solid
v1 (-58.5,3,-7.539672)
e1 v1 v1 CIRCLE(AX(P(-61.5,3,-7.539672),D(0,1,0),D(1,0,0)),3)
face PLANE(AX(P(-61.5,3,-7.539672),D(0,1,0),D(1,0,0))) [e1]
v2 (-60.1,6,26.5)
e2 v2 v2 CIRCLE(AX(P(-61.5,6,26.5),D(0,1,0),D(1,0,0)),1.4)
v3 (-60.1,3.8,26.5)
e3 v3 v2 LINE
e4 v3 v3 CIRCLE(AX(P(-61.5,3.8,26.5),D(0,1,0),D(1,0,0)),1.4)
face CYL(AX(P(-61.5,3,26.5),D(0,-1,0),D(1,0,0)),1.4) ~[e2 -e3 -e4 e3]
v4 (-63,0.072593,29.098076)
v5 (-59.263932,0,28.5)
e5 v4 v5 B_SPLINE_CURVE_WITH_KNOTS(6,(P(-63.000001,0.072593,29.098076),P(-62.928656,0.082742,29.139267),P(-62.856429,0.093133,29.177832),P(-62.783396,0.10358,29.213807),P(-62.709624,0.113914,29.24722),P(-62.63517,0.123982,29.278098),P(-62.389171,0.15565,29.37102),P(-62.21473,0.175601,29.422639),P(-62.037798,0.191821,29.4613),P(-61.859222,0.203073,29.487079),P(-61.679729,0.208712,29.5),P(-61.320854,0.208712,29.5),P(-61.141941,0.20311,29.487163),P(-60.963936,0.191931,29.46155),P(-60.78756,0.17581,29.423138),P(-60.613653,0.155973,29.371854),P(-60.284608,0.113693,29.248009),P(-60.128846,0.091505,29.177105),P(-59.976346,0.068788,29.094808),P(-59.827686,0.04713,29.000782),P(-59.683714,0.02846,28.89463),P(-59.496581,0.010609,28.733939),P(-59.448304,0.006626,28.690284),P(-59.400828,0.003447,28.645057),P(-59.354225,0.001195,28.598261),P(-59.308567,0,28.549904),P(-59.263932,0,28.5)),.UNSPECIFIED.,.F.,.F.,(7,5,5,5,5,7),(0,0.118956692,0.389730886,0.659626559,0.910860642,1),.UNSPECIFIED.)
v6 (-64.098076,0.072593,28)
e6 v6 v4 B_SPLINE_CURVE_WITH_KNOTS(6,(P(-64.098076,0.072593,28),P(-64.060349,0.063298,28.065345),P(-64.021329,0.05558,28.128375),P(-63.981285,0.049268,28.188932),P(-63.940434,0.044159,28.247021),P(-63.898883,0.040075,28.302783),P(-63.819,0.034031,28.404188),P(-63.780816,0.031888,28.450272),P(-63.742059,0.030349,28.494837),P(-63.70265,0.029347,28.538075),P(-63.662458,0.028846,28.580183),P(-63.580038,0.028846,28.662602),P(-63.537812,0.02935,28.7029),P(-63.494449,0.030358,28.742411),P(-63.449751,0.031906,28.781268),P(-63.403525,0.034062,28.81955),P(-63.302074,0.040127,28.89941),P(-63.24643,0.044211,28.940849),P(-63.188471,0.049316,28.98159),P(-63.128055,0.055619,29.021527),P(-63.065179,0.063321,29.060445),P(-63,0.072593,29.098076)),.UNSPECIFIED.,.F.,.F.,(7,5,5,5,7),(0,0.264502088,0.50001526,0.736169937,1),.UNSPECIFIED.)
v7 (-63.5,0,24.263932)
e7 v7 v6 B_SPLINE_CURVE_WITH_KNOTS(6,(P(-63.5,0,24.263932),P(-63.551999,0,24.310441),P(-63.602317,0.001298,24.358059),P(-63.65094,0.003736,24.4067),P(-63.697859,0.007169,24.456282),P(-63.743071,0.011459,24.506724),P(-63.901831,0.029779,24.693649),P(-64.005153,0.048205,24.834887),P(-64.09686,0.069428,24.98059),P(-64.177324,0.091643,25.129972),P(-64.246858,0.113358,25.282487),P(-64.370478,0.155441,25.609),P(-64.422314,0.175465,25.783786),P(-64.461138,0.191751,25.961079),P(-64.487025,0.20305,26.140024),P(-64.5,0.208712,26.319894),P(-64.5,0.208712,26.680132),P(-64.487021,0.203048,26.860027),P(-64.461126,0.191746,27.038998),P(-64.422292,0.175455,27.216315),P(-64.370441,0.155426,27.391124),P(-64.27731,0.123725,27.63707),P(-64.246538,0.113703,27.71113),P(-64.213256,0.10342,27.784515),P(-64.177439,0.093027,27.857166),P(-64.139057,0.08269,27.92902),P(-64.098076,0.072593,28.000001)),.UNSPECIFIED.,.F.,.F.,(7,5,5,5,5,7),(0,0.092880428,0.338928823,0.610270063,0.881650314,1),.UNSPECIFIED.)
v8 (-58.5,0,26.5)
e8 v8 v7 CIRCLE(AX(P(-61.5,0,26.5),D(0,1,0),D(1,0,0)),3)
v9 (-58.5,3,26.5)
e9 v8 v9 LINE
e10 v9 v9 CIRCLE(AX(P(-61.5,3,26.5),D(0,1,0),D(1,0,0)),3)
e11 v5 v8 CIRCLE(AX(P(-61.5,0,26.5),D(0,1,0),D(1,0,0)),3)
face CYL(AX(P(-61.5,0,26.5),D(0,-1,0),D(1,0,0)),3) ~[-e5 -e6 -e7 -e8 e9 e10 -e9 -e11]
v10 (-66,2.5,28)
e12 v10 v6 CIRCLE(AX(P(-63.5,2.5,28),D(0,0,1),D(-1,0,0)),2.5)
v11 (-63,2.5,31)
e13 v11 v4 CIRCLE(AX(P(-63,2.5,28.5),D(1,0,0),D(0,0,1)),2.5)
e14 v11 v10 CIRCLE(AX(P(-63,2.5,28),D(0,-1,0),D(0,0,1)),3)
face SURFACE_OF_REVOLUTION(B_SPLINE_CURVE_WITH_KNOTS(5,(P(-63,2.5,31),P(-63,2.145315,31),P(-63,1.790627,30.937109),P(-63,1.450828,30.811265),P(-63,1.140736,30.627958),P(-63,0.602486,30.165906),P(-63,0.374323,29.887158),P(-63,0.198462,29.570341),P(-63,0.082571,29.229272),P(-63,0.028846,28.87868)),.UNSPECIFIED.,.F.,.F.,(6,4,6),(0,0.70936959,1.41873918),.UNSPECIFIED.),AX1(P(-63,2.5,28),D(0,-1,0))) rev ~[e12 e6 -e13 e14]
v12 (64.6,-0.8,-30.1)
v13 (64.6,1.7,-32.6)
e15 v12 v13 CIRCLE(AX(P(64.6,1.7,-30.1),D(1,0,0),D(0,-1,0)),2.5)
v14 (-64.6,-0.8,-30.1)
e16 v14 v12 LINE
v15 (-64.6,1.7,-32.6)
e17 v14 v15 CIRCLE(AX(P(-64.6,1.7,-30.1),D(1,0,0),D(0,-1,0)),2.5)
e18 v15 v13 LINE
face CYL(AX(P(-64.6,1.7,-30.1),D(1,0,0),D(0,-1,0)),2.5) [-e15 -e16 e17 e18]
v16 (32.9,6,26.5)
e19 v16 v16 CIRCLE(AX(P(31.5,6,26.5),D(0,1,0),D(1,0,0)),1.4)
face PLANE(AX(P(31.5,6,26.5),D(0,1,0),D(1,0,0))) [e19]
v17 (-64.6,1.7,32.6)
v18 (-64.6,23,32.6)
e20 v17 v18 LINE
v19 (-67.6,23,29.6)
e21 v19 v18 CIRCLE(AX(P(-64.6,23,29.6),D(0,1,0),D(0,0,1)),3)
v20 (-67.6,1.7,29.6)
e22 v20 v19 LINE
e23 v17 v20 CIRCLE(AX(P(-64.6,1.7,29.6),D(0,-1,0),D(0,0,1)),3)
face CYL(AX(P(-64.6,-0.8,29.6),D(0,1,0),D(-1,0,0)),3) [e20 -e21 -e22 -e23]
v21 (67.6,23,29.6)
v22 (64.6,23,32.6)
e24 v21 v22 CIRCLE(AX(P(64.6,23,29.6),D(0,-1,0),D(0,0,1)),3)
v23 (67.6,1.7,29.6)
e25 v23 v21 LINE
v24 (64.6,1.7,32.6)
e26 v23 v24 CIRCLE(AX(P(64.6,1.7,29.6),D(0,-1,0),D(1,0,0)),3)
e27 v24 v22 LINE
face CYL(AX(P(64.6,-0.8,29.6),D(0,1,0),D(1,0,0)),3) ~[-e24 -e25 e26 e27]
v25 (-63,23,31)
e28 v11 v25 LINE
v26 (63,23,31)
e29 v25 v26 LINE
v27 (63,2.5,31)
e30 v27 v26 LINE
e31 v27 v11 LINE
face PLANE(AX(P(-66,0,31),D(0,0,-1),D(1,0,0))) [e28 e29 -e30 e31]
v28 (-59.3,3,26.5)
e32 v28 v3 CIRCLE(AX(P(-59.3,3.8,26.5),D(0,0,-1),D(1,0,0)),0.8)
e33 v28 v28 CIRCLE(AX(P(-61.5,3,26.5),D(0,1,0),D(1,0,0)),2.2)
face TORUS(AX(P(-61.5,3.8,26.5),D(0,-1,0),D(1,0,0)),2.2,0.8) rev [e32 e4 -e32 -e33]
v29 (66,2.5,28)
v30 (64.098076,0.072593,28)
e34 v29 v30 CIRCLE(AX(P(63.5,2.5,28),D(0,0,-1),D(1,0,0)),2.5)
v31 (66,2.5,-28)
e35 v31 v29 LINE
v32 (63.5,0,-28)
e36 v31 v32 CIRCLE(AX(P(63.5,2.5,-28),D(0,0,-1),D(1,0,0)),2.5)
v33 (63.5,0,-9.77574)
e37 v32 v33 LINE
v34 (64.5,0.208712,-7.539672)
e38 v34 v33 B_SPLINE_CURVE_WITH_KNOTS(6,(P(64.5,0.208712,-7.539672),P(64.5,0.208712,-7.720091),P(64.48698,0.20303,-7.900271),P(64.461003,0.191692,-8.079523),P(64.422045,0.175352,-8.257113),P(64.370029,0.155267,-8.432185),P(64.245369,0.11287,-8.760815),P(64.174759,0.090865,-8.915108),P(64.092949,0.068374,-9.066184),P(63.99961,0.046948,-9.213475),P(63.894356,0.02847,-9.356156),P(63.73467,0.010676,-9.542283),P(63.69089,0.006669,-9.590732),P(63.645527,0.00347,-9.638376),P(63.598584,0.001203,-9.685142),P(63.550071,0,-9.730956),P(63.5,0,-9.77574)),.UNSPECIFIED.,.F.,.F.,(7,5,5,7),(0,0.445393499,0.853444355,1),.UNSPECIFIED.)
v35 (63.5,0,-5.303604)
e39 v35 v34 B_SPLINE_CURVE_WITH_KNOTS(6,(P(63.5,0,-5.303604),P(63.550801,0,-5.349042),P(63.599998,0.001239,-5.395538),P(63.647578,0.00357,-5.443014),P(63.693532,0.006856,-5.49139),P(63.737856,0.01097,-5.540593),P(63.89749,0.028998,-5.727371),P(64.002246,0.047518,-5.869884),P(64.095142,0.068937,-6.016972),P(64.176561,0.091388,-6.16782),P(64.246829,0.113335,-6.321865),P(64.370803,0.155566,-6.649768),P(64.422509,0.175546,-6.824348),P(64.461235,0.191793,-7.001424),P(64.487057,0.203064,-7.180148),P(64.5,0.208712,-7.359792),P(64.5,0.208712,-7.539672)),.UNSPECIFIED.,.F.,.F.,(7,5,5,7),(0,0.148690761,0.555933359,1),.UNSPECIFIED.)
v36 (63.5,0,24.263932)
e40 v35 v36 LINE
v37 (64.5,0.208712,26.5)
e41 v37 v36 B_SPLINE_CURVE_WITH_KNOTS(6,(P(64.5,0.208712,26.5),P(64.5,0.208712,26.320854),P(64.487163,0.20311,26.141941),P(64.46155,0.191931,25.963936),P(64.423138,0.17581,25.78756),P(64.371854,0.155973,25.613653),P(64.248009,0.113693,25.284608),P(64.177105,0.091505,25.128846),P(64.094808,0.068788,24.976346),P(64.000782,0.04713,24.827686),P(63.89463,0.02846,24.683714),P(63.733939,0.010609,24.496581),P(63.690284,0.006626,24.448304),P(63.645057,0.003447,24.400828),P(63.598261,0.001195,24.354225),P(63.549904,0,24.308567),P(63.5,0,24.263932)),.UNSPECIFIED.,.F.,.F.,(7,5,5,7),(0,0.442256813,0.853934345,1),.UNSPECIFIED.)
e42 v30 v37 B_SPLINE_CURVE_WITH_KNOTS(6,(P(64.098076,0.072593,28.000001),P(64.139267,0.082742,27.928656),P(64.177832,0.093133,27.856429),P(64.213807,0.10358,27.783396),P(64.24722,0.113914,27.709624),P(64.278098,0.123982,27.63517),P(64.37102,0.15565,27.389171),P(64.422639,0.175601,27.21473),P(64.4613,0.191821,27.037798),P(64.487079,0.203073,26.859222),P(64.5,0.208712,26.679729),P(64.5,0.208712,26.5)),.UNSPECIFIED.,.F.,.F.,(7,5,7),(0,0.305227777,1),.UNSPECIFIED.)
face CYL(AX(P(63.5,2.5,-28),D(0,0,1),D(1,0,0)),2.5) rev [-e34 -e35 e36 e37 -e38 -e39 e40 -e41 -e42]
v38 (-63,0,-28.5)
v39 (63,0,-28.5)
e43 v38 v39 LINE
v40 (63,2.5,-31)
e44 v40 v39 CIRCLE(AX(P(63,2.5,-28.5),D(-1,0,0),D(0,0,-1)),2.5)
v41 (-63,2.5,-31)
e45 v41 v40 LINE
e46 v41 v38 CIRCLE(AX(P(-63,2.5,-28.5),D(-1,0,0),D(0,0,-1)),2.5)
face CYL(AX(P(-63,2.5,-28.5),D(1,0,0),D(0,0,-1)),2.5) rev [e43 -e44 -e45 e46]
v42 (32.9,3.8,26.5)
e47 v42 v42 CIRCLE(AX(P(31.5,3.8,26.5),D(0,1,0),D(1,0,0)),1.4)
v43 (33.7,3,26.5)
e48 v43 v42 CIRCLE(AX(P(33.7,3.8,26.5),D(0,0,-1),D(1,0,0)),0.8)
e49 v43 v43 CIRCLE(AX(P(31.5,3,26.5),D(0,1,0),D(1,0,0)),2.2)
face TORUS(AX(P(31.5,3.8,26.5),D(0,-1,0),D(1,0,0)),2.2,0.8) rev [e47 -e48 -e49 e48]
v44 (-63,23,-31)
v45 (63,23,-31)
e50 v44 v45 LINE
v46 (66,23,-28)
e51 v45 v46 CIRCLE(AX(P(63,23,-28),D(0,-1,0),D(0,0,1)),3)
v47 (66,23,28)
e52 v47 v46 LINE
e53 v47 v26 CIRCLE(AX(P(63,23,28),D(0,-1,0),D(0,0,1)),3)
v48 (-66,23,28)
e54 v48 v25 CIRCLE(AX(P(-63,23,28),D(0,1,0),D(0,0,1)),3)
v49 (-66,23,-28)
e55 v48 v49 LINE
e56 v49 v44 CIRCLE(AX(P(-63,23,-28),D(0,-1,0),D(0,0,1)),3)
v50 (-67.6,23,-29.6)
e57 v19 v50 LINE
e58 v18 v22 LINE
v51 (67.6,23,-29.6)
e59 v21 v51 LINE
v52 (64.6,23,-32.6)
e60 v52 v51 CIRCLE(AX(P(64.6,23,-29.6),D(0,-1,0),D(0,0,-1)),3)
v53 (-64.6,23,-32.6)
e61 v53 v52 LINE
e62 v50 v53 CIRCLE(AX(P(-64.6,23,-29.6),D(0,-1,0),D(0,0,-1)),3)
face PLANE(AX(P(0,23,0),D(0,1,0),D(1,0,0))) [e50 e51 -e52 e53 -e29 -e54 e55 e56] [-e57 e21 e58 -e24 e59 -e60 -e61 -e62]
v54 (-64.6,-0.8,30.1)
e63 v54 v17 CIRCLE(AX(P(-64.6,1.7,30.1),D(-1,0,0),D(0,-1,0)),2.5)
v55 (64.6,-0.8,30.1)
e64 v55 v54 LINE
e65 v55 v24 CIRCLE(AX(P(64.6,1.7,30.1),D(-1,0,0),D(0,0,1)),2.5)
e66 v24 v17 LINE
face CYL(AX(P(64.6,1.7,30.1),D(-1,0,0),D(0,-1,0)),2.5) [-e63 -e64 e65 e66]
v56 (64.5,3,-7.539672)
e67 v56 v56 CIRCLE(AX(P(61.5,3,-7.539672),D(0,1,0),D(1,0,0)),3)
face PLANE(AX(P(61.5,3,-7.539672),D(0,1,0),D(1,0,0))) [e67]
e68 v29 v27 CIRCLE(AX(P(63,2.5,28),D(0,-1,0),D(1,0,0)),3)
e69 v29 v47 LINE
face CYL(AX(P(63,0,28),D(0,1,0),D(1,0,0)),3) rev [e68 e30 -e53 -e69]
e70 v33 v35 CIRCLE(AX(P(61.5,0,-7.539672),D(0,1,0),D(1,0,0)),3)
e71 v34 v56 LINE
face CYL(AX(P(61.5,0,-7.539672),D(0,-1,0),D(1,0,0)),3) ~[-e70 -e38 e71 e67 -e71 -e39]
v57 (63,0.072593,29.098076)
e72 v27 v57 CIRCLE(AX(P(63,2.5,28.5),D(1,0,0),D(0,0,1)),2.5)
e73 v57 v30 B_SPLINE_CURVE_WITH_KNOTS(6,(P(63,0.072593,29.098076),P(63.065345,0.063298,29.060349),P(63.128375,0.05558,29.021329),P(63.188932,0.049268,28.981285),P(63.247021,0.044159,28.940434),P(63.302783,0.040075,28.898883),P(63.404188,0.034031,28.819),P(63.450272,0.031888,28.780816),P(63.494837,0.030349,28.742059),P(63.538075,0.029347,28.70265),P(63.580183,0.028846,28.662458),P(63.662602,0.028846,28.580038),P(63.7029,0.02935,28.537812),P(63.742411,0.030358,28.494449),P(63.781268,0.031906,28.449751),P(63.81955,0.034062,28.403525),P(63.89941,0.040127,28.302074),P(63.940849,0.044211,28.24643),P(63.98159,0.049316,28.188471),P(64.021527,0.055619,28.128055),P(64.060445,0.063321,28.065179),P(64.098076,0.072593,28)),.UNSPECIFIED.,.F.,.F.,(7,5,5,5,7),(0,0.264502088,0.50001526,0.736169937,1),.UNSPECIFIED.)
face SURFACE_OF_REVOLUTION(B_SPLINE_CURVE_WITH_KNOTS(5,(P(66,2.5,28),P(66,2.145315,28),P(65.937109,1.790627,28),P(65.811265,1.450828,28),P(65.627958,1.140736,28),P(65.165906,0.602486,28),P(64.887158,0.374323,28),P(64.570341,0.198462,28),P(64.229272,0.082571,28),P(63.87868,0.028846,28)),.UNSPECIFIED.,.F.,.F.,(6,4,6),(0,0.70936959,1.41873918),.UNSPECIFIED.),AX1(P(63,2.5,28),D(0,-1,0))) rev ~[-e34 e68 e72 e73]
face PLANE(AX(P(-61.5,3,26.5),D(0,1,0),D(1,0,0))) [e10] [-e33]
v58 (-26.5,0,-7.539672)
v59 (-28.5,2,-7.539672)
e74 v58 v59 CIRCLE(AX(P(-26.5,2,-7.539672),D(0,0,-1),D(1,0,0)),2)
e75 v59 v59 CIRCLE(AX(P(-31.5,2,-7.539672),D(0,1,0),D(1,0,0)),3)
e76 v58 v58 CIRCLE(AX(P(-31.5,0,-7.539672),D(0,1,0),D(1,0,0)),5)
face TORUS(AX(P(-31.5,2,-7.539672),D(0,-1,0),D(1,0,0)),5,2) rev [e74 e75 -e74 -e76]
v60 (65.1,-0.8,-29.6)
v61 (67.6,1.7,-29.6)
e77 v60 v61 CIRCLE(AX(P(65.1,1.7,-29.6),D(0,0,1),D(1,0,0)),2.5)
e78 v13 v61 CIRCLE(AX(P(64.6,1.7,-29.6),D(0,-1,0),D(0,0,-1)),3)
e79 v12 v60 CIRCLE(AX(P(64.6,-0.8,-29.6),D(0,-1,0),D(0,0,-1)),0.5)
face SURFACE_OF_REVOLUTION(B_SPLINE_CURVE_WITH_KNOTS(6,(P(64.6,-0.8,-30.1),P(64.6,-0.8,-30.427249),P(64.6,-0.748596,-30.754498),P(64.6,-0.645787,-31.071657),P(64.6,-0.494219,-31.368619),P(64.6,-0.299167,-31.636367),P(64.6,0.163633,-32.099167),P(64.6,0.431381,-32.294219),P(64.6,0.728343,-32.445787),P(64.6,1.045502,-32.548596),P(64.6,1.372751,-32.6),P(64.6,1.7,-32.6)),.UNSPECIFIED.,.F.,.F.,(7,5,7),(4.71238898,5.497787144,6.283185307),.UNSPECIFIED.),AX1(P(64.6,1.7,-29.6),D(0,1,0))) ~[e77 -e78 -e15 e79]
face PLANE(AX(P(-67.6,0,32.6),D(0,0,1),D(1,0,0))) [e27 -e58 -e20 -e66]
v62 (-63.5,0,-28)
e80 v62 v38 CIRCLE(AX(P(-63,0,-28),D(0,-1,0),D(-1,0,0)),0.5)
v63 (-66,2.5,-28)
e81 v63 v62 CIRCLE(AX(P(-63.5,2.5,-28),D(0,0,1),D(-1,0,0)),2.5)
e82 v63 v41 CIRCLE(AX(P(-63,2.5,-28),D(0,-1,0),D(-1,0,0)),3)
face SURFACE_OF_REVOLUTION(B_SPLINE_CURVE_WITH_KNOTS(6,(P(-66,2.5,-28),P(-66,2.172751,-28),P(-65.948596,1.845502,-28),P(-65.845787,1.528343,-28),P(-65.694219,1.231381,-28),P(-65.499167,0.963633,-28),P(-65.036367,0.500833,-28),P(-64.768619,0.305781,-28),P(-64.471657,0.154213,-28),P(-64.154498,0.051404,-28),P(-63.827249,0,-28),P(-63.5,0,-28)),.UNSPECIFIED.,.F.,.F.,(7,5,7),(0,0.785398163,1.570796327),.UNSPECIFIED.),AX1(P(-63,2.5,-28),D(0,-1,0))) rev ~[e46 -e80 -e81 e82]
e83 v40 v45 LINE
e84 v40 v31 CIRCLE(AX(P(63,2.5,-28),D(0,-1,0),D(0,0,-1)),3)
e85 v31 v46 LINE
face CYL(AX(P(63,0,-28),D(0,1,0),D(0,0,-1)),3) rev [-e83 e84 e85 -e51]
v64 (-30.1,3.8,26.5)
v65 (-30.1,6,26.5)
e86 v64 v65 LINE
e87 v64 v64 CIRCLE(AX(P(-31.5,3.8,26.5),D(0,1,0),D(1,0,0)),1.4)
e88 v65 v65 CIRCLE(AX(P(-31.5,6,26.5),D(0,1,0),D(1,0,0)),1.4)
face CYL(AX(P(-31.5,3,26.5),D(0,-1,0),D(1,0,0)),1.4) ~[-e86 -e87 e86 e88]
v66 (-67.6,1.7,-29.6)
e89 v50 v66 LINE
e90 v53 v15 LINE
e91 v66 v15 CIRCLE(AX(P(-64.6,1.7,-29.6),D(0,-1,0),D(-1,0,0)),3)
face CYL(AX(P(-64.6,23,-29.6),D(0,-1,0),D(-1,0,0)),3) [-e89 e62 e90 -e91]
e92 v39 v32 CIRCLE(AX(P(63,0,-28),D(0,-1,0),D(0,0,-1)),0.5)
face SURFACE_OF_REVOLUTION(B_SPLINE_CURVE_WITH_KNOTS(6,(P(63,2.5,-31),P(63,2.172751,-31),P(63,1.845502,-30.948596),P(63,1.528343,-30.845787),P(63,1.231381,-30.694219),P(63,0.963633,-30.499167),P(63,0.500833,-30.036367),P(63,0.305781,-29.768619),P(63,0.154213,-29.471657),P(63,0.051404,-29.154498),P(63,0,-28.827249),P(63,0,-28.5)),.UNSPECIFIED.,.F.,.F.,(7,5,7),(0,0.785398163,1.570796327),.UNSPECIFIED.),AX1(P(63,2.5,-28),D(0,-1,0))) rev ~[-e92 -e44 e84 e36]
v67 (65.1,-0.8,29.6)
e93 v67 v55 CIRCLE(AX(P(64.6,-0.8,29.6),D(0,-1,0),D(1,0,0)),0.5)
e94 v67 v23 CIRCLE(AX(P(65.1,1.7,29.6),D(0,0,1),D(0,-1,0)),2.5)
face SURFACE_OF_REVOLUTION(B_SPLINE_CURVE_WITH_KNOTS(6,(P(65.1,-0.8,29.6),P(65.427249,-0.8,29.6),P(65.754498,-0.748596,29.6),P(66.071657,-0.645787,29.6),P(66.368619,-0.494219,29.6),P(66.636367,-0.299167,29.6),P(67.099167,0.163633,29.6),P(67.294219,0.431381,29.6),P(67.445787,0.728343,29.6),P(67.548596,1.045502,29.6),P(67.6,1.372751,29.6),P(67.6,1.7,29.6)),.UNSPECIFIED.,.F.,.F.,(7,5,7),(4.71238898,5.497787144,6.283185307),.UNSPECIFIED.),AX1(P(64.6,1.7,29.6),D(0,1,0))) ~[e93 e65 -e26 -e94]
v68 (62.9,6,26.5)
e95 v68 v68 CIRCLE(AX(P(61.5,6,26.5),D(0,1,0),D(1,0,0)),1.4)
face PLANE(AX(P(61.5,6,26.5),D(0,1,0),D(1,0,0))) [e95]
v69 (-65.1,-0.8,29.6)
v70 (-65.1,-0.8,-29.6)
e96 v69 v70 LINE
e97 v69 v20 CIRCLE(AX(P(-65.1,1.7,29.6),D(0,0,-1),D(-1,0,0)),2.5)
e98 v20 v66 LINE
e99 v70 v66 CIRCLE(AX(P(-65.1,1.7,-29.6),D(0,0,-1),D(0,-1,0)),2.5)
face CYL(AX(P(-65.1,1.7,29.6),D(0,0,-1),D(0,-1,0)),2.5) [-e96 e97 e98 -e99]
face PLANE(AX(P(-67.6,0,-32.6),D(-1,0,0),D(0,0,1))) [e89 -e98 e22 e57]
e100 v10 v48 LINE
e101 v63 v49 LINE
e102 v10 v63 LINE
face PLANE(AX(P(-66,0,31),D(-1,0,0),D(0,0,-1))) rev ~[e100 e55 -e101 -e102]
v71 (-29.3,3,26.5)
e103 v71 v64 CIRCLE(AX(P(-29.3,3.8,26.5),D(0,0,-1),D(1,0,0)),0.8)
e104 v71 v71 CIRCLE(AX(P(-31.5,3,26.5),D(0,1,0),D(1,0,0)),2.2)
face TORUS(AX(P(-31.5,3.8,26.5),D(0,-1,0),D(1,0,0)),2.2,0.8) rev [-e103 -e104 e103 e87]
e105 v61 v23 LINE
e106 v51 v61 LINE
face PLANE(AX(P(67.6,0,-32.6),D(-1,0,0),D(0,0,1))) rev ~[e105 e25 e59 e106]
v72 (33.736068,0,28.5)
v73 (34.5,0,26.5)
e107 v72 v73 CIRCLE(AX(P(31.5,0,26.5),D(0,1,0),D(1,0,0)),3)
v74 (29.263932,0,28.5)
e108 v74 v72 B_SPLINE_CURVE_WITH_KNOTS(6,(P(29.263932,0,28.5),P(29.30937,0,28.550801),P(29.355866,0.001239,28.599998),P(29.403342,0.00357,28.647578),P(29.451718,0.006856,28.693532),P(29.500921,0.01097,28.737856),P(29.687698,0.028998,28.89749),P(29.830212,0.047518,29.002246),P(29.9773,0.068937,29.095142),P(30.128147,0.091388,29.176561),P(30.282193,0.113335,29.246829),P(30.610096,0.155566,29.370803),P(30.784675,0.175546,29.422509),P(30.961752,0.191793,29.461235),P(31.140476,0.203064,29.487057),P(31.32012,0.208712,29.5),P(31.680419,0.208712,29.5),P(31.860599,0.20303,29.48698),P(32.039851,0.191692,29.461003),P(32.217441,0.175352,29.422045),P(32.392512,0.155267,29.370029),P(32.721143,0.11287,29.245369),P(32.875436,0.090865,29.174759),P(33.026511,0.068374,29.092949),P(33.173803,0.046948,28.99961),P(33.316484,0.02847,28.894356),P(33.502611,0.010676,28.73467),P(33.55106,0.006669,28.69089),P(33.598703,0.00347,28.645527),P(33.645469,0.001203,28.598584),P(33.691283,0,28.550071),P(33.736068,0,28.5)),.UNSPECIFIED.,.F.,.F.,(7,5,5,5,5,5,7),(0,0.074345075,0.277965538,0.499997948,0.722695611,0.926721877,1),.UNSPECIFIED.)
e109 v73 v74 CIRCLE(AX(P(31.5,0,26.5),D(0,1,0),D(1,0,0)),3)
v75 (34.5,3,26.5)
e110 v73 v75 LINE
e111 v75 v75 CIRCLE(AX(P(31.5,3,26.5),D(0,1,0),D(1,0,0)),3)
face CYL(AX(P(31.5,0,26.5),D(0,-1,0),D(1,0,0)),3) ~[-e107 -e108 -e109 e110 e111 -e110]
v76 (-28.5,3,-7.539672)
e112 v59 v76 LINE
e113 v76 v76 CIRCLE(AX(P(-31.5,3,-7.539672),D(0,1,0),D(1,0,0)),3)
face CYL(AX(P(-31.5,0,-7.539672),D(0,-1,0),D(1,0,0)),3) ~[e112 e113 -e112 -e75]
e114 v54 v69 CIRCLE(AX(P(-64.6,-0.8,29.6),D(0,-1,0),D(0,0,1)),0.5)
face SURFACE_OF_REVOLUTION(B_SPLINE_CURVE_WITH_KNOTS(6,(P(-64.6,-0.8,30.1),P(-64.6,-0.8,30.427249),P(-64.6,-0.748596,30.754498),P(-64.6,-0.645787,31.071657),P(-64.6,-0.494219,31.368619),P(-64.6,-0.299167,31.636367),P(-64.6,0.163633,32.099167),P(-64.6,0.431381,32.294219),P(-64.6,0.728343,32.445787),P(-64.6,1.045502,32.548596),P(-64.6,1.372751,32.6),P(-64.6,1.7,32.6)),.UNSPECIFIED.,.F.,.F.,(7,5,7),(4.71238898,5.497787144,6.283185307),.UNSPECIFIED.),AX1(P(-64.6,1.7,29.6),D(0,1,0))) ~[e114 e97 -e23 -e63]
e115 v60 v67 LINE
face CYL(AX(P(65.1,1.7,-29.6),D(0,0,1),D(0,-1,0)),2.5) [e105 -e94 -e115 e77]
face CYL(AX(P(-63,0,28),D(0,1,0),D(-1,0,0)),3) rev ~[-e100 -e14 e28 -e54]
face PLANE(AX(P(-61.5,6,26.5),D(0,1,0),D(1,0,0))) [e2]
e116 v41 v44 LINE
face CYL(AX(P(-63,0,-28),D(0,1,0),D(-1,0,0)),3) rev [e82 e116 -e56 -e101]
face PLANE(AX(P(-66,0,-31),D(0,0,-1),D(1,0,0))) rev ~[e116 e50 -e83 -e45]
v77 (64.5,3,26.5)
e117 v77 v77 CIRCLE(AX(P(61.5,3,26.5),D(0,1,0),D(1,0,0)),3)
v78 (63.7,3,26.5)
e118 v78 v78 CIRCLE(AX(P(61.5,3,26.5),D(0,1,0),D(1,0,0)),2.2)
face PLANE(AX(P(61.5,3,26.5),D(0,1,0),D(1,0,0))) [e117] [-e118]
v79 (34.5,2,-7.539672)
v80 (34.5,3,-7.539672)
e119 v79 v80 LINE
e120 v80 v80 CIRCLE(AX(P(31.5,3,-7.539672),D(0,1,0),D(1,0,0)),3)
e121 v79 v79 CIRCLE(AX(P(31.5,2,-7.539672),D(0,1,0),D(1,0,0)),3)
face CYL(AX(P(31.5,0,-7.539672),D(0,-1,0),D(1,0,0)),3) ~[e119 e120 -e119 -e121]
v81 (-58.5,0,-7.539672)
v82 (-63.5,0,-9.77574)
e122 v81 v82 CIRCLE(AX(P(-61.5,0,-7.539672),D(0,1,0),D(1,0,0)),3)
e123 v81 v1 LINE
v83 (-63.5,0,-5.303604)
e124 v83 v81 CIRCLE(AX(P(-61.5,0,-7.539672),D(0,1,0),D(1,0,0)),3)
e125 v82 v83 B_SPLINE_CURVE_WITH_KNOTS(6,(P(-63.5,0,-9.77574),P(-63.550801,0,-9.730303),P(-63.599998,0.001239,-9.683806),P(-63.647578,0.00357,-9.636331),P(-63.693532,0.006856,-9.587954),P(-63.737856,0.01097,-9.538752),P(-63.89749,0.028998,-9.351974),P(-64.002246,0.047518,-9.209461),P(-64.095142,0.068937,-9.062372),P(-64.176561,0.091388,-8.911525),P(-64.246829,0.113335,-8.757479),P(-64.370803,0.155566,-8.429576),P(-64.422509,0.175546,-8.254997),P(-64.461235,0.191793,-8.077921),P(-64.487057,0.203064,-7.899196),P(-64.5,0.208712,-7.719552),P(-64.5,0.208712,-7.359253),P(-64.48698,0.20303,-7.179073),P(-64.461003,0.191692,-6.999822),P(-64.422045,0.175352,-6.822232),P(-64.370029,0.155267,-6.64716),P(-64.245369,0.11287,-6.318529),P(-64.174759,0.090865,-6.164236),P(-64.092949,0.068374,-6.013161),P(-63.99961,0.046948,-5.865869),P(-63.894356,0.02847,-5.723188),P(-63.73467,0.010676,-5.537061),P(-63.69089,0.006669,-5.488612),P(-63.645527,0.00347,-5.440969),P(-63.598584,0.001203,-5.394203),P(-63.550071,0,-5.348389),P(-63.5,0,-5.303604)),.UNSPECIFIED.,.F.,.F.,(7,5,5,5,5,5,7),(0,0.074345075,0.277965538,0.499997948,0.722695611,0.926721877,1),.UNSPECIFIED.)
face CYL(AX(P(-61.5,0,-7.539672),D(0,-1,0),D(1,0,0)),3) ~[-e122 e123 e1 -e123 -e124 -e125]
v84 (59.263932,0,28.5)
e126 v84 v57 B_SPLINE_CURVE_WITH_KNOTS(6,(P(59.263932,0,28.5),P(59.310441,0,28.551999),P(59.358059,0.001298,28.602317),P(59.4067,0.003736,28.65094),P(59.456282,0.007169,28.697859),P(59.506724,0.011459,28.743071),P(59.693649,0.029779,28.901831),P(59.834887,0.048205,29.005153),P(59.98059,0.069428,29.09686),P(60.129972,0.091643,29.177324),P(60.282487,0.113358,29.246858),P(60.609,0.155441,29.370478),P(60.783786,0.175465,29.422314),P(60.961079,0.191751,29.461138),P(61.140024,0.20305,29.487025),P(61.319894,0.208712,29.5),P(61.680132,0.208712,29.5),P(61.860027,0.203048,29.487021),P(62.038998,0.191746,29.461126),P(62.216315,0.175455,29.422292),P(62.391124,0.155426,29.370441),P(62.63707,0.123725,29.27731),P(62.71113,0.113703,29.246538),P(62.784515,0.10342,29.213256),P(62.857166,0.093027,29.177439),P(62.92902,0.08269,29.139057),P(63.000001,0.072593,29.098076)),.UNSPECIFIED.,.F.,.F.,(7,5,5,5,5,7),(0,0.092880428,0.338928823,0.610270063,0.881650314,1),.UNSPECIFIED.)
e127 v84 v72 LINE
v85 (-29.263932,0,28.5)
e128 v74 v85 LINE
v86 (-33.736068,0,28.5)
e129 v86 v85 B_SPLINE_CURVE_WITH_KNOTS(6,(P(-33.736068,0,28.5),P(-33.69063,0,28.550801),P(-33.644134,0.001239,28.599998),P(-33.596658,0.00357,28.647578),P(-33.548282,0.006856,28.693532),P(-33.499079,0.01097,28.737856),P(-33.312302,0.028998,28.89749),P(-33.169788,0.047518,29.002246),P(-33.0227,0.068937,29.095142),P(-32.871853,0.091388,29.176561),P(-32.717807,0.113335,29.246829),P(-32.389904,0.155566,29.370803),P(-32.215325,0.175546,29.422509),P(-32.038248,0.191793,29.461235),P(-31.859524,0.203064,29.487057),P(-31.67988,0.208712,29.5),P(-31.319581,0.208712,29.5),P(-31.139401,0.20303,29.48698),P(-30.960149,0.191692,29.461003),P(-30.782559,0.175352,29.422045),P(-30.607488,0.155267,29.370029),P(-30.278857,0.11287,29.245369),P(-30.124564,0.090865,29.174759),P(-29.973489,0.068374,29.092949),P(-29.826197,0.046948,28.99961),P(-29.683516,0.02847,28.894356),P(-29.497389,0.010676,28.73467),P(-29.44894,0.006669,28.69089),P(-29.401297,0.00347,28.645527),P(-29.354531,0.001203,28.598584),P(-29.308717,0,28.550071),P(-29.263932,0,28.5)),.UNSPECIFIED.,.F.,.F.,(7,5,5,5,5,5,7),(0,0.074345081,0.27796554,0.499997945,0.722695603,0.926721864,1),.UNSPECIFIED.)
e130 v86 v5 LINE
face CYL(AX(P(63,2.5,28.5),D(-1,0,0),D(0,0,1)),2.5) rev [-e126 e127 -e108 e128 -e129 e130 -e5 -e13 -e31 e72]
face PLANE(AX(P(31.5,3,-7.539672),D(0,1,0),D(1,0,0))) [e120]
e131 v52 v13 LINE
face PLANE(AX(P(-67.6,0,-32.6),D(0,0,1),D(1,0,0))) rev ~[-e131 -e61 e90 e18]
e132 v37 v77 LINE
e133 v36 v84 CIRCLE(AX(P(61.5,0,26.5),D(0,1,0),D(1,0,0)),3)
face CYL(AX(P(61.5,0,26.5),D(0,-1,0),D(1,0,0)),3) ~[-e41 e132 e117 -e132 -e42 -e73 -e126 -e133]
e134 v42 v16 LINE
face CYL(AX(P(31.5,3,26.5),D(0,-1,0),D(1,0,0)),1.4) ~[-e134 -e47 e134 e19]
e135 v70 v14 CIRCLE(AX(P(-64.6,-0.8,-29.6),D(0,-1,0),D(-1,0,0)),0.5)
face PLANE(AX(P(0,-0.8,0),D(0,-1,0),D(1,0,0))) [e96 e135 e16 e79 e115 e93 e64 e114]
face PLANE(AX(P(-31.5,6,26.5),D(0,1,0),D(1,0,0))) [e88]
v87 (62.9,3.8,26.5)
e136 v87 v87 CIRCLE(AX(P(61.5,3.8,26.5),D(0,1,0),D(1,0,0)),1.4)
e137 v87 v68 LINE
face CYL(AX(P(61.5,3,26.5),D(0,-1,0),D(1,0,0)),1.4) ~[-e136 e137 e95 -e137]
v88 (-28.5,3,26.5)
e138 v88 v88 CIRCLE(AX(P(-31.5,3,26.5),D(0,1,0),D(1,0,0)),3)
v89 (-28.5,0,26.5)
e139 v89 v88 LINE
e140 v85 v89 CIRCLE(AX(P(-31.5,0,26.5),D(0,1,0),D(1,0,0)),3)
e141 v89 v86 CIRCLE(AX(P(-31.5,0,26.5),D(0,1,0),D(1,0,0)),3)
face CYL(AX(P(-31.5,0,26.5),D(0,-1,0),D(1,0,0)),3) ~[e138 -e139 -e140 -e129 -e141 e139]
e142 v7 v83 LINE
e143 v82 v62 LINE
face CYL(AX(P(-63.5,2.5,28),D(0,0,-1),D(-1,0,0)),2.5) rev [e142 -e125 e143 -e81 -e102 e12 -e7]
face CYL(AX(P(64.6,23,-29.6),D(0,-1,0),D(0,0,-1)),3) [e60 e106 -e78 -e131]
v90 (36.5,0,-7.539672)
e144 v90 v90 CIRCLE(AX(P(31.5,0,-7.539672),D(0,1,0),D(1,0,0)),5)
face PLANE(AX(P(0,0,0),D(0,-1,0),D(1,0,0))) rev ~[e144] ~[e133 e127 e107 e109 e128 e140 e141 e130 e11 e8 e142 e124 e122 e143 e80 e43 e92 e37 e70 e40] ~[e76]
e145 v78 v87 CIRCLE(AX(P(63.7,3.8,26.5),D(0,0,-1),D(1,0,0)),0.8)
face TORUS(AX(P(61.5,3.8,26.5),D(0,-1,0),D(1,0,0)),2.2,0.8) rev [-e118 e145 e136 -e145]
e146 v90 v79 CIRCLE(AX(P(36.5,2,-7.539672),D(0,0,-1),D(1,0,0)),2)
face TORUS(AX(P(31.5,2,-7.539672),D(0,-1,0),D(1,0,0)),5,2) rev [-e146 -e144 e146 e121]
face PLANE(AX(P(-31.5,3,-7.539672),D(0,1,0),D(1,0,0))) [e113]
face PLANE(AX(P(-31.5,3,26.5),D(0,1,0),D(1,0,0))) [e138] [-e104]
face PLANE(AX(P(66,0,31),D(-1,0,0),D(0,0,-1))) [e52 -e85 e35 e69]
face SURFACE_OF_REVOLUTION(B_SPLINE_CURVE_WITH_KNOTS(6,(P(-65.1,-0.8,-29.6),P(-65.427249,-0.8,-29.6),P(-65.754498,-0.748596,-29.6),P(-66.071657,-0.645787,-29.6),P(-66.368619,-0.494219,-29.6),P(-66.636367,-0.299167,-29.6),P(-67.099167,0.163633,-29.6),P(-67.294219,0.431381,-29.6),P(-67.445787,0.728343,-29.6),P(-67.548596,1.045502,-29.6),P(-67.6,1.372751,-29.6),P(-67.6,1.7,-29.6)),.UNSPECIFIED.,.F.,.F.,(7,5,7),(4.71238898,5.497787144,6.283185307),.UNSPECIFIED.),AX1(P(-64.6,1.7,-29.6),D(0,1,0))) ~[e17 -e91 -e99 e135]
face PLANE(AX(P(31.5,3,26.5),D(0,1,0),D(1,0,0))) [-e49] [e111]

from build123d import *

# Parameters (mm, degrees)
SKETCH1_W           = 135.2
SKETCH1_H           = 65.2
SKETCH1_W_2         = 132
SKETCH1_H_2         = 62
BOSS_EXTRUDE1_DEPTH = 23
SKETCH2_W           = 135.2
SKETCH2_H           = 65.2
BOSS_EXTRUDE2_DEPTH = 0.8
FILLET1_R           = 3
FILLET2_R           = 2.5
SKETCH3_R           = 3
BOSS_EXTRUDE5_DEPTH = 3
SKETCH4_R           = 1.4
BOSS_EXTRUDE6_DEPTH = 3
FILLET3_R           = 0.8
FILLET4_R           = 2


with BuildPart() as part:
    # Sketch1 → Boss-Extrude1 (new body)
    with BuildSketch(Plane(origin=(0, 0, 0), x_dir=(1, 0, 0), z_dir=(0, 1, 0))):
        Rectangle(SKETCH1_W, SKETCH1_H)
        Rectangle(SKETCH1_W_2, SKETCH1_H_2, mode=Mode.SUBTRACT)
    extrude(amount=BOSS_EXTRUDE1_DEPTH)

    # Sketch2 → Boss-Extrude2 (add)
    with BuildSketch(Plane.XZ):
        Rectangle(SKETCH2_W, SKETCH2_H)
    extrude(amount=BOSS_EXTRUDE2_DEPTH)

    # Fillet1
    fillet1_edges = [part.edges().sort_by_distance(p)[0] for p in [
        (66, 11.5, 31),
        (66, 11.5, -31),
        (-66, 11.5, -31),
        (-66, 11.5, 31),
        (-67.6, 11.1, 32.6),
        (-67.6, 11.1, -32.6),
        (67.6, 11.1, -32.6),
        (67.6, 11.1, 32.6),
    ]]
    fillet(fillet1_edges, radius=FILLET1_R)

    # Fillet2
    fillet2_edges = [part.edges().sort_by_distance(p)[0] for p in [
        (0, -0.8, -32.6),
        (67.6, -0.8, 0),
        (0, -0.8, 32.6),
        (-67.6, -0.8, 0),
        (66.721320344, -0.8, 31.721320344),
        (-66.721320344, -0.8, 31.721320344),
        (-66.721320344, -0.8, -31.721320344),
        (66.721320344, -0.8, -31.721320344),
        (-66, 0, 0),
        (0, 0, 31),
        (66, 0, 0),
        (0, 0, -31),
        (-65.121320344, 0, -30.121320344),
        (65.121320344, 0, -30.121320344),
        (65.121320344, 0, 30.121320344),
        (-65.121320344, 0, 30.121320344),
    ]]
    fillet(fillet2_edges, radius=FILLET2_R)

    # Sketch3 → Boss-Extrude5 (add)
    with BuildSketch(Plane(origin=(0, 0, 0), x_dir=(1, 0, 0), z_dir=(0, 1, 0))):
        with Locations((-31.5, -26.5)):
            Circle(SKETCH3_R)
        with Locations((-61.5, -26.5)):
            Circle(SKETCH3_R)
        with Locations((31.5, -26.5)):
            Circle(SKETCH3_R)
        with Locations((61.5, -26.5)):
            Circle(SKETCH3_R)
        with Locations((-31.5, 7.539672284)):
            Circle(SKETCH3_R)
        with Locations((-61.5, 7.539672284)):
            Circle(SKETCH3_R)
        with Locations((31.5, 7.539672284)):
            Circle(SKETCH3_R)
        with Locations((61.5, 7.539672284)):
            Circle(SKETCH3_R)
    extrude(amount=BOSS_EXTRUDE5_DEPTH)

    # Sketch4 → Boss-Extrude6 (add)
    with BuildSketch(Plane(origin=(0, 3, 0), x_dir=(1, 0, 0), z_dir=(0, 1, 0))):
        with Locations((-61.5, -26.5)):
            Circle(SKETCH4_R)
        with Locations((-31.5, -26.5)):
            Circle(SKETCH4_R)
        with Locations((31.5, -26.5)):
            Circle(SKETCH4_R)
        with Locations((61.5, -26.5)):
            Circle(SKETCH4_R)
    extrude(amount=BOSS_EXTRUDE6_DEPTH)

    # Fillet3
    fillet3_edges = [part.edges().sort_by_distance(p)[0] for p in [
        (-62.9, 3, 26.5),
        (-32.9, 3, 26.5),
        (30.1, 3, 26.5),
        (60.1, 3, 26.5),
    ]]
    fillet(fillet3_edges, radius=FILLET3_R)

    # Fillet4
    fillet4_edges = [part.edges().sort_by_distance(p)[0] for p in [
        (-34.5, 0, -7.539672284),
        (28.5, 0, -7.539672284),
    ]]
    fillet(fillet4_edges, radius=FILLET4_R)


solid = part.part
